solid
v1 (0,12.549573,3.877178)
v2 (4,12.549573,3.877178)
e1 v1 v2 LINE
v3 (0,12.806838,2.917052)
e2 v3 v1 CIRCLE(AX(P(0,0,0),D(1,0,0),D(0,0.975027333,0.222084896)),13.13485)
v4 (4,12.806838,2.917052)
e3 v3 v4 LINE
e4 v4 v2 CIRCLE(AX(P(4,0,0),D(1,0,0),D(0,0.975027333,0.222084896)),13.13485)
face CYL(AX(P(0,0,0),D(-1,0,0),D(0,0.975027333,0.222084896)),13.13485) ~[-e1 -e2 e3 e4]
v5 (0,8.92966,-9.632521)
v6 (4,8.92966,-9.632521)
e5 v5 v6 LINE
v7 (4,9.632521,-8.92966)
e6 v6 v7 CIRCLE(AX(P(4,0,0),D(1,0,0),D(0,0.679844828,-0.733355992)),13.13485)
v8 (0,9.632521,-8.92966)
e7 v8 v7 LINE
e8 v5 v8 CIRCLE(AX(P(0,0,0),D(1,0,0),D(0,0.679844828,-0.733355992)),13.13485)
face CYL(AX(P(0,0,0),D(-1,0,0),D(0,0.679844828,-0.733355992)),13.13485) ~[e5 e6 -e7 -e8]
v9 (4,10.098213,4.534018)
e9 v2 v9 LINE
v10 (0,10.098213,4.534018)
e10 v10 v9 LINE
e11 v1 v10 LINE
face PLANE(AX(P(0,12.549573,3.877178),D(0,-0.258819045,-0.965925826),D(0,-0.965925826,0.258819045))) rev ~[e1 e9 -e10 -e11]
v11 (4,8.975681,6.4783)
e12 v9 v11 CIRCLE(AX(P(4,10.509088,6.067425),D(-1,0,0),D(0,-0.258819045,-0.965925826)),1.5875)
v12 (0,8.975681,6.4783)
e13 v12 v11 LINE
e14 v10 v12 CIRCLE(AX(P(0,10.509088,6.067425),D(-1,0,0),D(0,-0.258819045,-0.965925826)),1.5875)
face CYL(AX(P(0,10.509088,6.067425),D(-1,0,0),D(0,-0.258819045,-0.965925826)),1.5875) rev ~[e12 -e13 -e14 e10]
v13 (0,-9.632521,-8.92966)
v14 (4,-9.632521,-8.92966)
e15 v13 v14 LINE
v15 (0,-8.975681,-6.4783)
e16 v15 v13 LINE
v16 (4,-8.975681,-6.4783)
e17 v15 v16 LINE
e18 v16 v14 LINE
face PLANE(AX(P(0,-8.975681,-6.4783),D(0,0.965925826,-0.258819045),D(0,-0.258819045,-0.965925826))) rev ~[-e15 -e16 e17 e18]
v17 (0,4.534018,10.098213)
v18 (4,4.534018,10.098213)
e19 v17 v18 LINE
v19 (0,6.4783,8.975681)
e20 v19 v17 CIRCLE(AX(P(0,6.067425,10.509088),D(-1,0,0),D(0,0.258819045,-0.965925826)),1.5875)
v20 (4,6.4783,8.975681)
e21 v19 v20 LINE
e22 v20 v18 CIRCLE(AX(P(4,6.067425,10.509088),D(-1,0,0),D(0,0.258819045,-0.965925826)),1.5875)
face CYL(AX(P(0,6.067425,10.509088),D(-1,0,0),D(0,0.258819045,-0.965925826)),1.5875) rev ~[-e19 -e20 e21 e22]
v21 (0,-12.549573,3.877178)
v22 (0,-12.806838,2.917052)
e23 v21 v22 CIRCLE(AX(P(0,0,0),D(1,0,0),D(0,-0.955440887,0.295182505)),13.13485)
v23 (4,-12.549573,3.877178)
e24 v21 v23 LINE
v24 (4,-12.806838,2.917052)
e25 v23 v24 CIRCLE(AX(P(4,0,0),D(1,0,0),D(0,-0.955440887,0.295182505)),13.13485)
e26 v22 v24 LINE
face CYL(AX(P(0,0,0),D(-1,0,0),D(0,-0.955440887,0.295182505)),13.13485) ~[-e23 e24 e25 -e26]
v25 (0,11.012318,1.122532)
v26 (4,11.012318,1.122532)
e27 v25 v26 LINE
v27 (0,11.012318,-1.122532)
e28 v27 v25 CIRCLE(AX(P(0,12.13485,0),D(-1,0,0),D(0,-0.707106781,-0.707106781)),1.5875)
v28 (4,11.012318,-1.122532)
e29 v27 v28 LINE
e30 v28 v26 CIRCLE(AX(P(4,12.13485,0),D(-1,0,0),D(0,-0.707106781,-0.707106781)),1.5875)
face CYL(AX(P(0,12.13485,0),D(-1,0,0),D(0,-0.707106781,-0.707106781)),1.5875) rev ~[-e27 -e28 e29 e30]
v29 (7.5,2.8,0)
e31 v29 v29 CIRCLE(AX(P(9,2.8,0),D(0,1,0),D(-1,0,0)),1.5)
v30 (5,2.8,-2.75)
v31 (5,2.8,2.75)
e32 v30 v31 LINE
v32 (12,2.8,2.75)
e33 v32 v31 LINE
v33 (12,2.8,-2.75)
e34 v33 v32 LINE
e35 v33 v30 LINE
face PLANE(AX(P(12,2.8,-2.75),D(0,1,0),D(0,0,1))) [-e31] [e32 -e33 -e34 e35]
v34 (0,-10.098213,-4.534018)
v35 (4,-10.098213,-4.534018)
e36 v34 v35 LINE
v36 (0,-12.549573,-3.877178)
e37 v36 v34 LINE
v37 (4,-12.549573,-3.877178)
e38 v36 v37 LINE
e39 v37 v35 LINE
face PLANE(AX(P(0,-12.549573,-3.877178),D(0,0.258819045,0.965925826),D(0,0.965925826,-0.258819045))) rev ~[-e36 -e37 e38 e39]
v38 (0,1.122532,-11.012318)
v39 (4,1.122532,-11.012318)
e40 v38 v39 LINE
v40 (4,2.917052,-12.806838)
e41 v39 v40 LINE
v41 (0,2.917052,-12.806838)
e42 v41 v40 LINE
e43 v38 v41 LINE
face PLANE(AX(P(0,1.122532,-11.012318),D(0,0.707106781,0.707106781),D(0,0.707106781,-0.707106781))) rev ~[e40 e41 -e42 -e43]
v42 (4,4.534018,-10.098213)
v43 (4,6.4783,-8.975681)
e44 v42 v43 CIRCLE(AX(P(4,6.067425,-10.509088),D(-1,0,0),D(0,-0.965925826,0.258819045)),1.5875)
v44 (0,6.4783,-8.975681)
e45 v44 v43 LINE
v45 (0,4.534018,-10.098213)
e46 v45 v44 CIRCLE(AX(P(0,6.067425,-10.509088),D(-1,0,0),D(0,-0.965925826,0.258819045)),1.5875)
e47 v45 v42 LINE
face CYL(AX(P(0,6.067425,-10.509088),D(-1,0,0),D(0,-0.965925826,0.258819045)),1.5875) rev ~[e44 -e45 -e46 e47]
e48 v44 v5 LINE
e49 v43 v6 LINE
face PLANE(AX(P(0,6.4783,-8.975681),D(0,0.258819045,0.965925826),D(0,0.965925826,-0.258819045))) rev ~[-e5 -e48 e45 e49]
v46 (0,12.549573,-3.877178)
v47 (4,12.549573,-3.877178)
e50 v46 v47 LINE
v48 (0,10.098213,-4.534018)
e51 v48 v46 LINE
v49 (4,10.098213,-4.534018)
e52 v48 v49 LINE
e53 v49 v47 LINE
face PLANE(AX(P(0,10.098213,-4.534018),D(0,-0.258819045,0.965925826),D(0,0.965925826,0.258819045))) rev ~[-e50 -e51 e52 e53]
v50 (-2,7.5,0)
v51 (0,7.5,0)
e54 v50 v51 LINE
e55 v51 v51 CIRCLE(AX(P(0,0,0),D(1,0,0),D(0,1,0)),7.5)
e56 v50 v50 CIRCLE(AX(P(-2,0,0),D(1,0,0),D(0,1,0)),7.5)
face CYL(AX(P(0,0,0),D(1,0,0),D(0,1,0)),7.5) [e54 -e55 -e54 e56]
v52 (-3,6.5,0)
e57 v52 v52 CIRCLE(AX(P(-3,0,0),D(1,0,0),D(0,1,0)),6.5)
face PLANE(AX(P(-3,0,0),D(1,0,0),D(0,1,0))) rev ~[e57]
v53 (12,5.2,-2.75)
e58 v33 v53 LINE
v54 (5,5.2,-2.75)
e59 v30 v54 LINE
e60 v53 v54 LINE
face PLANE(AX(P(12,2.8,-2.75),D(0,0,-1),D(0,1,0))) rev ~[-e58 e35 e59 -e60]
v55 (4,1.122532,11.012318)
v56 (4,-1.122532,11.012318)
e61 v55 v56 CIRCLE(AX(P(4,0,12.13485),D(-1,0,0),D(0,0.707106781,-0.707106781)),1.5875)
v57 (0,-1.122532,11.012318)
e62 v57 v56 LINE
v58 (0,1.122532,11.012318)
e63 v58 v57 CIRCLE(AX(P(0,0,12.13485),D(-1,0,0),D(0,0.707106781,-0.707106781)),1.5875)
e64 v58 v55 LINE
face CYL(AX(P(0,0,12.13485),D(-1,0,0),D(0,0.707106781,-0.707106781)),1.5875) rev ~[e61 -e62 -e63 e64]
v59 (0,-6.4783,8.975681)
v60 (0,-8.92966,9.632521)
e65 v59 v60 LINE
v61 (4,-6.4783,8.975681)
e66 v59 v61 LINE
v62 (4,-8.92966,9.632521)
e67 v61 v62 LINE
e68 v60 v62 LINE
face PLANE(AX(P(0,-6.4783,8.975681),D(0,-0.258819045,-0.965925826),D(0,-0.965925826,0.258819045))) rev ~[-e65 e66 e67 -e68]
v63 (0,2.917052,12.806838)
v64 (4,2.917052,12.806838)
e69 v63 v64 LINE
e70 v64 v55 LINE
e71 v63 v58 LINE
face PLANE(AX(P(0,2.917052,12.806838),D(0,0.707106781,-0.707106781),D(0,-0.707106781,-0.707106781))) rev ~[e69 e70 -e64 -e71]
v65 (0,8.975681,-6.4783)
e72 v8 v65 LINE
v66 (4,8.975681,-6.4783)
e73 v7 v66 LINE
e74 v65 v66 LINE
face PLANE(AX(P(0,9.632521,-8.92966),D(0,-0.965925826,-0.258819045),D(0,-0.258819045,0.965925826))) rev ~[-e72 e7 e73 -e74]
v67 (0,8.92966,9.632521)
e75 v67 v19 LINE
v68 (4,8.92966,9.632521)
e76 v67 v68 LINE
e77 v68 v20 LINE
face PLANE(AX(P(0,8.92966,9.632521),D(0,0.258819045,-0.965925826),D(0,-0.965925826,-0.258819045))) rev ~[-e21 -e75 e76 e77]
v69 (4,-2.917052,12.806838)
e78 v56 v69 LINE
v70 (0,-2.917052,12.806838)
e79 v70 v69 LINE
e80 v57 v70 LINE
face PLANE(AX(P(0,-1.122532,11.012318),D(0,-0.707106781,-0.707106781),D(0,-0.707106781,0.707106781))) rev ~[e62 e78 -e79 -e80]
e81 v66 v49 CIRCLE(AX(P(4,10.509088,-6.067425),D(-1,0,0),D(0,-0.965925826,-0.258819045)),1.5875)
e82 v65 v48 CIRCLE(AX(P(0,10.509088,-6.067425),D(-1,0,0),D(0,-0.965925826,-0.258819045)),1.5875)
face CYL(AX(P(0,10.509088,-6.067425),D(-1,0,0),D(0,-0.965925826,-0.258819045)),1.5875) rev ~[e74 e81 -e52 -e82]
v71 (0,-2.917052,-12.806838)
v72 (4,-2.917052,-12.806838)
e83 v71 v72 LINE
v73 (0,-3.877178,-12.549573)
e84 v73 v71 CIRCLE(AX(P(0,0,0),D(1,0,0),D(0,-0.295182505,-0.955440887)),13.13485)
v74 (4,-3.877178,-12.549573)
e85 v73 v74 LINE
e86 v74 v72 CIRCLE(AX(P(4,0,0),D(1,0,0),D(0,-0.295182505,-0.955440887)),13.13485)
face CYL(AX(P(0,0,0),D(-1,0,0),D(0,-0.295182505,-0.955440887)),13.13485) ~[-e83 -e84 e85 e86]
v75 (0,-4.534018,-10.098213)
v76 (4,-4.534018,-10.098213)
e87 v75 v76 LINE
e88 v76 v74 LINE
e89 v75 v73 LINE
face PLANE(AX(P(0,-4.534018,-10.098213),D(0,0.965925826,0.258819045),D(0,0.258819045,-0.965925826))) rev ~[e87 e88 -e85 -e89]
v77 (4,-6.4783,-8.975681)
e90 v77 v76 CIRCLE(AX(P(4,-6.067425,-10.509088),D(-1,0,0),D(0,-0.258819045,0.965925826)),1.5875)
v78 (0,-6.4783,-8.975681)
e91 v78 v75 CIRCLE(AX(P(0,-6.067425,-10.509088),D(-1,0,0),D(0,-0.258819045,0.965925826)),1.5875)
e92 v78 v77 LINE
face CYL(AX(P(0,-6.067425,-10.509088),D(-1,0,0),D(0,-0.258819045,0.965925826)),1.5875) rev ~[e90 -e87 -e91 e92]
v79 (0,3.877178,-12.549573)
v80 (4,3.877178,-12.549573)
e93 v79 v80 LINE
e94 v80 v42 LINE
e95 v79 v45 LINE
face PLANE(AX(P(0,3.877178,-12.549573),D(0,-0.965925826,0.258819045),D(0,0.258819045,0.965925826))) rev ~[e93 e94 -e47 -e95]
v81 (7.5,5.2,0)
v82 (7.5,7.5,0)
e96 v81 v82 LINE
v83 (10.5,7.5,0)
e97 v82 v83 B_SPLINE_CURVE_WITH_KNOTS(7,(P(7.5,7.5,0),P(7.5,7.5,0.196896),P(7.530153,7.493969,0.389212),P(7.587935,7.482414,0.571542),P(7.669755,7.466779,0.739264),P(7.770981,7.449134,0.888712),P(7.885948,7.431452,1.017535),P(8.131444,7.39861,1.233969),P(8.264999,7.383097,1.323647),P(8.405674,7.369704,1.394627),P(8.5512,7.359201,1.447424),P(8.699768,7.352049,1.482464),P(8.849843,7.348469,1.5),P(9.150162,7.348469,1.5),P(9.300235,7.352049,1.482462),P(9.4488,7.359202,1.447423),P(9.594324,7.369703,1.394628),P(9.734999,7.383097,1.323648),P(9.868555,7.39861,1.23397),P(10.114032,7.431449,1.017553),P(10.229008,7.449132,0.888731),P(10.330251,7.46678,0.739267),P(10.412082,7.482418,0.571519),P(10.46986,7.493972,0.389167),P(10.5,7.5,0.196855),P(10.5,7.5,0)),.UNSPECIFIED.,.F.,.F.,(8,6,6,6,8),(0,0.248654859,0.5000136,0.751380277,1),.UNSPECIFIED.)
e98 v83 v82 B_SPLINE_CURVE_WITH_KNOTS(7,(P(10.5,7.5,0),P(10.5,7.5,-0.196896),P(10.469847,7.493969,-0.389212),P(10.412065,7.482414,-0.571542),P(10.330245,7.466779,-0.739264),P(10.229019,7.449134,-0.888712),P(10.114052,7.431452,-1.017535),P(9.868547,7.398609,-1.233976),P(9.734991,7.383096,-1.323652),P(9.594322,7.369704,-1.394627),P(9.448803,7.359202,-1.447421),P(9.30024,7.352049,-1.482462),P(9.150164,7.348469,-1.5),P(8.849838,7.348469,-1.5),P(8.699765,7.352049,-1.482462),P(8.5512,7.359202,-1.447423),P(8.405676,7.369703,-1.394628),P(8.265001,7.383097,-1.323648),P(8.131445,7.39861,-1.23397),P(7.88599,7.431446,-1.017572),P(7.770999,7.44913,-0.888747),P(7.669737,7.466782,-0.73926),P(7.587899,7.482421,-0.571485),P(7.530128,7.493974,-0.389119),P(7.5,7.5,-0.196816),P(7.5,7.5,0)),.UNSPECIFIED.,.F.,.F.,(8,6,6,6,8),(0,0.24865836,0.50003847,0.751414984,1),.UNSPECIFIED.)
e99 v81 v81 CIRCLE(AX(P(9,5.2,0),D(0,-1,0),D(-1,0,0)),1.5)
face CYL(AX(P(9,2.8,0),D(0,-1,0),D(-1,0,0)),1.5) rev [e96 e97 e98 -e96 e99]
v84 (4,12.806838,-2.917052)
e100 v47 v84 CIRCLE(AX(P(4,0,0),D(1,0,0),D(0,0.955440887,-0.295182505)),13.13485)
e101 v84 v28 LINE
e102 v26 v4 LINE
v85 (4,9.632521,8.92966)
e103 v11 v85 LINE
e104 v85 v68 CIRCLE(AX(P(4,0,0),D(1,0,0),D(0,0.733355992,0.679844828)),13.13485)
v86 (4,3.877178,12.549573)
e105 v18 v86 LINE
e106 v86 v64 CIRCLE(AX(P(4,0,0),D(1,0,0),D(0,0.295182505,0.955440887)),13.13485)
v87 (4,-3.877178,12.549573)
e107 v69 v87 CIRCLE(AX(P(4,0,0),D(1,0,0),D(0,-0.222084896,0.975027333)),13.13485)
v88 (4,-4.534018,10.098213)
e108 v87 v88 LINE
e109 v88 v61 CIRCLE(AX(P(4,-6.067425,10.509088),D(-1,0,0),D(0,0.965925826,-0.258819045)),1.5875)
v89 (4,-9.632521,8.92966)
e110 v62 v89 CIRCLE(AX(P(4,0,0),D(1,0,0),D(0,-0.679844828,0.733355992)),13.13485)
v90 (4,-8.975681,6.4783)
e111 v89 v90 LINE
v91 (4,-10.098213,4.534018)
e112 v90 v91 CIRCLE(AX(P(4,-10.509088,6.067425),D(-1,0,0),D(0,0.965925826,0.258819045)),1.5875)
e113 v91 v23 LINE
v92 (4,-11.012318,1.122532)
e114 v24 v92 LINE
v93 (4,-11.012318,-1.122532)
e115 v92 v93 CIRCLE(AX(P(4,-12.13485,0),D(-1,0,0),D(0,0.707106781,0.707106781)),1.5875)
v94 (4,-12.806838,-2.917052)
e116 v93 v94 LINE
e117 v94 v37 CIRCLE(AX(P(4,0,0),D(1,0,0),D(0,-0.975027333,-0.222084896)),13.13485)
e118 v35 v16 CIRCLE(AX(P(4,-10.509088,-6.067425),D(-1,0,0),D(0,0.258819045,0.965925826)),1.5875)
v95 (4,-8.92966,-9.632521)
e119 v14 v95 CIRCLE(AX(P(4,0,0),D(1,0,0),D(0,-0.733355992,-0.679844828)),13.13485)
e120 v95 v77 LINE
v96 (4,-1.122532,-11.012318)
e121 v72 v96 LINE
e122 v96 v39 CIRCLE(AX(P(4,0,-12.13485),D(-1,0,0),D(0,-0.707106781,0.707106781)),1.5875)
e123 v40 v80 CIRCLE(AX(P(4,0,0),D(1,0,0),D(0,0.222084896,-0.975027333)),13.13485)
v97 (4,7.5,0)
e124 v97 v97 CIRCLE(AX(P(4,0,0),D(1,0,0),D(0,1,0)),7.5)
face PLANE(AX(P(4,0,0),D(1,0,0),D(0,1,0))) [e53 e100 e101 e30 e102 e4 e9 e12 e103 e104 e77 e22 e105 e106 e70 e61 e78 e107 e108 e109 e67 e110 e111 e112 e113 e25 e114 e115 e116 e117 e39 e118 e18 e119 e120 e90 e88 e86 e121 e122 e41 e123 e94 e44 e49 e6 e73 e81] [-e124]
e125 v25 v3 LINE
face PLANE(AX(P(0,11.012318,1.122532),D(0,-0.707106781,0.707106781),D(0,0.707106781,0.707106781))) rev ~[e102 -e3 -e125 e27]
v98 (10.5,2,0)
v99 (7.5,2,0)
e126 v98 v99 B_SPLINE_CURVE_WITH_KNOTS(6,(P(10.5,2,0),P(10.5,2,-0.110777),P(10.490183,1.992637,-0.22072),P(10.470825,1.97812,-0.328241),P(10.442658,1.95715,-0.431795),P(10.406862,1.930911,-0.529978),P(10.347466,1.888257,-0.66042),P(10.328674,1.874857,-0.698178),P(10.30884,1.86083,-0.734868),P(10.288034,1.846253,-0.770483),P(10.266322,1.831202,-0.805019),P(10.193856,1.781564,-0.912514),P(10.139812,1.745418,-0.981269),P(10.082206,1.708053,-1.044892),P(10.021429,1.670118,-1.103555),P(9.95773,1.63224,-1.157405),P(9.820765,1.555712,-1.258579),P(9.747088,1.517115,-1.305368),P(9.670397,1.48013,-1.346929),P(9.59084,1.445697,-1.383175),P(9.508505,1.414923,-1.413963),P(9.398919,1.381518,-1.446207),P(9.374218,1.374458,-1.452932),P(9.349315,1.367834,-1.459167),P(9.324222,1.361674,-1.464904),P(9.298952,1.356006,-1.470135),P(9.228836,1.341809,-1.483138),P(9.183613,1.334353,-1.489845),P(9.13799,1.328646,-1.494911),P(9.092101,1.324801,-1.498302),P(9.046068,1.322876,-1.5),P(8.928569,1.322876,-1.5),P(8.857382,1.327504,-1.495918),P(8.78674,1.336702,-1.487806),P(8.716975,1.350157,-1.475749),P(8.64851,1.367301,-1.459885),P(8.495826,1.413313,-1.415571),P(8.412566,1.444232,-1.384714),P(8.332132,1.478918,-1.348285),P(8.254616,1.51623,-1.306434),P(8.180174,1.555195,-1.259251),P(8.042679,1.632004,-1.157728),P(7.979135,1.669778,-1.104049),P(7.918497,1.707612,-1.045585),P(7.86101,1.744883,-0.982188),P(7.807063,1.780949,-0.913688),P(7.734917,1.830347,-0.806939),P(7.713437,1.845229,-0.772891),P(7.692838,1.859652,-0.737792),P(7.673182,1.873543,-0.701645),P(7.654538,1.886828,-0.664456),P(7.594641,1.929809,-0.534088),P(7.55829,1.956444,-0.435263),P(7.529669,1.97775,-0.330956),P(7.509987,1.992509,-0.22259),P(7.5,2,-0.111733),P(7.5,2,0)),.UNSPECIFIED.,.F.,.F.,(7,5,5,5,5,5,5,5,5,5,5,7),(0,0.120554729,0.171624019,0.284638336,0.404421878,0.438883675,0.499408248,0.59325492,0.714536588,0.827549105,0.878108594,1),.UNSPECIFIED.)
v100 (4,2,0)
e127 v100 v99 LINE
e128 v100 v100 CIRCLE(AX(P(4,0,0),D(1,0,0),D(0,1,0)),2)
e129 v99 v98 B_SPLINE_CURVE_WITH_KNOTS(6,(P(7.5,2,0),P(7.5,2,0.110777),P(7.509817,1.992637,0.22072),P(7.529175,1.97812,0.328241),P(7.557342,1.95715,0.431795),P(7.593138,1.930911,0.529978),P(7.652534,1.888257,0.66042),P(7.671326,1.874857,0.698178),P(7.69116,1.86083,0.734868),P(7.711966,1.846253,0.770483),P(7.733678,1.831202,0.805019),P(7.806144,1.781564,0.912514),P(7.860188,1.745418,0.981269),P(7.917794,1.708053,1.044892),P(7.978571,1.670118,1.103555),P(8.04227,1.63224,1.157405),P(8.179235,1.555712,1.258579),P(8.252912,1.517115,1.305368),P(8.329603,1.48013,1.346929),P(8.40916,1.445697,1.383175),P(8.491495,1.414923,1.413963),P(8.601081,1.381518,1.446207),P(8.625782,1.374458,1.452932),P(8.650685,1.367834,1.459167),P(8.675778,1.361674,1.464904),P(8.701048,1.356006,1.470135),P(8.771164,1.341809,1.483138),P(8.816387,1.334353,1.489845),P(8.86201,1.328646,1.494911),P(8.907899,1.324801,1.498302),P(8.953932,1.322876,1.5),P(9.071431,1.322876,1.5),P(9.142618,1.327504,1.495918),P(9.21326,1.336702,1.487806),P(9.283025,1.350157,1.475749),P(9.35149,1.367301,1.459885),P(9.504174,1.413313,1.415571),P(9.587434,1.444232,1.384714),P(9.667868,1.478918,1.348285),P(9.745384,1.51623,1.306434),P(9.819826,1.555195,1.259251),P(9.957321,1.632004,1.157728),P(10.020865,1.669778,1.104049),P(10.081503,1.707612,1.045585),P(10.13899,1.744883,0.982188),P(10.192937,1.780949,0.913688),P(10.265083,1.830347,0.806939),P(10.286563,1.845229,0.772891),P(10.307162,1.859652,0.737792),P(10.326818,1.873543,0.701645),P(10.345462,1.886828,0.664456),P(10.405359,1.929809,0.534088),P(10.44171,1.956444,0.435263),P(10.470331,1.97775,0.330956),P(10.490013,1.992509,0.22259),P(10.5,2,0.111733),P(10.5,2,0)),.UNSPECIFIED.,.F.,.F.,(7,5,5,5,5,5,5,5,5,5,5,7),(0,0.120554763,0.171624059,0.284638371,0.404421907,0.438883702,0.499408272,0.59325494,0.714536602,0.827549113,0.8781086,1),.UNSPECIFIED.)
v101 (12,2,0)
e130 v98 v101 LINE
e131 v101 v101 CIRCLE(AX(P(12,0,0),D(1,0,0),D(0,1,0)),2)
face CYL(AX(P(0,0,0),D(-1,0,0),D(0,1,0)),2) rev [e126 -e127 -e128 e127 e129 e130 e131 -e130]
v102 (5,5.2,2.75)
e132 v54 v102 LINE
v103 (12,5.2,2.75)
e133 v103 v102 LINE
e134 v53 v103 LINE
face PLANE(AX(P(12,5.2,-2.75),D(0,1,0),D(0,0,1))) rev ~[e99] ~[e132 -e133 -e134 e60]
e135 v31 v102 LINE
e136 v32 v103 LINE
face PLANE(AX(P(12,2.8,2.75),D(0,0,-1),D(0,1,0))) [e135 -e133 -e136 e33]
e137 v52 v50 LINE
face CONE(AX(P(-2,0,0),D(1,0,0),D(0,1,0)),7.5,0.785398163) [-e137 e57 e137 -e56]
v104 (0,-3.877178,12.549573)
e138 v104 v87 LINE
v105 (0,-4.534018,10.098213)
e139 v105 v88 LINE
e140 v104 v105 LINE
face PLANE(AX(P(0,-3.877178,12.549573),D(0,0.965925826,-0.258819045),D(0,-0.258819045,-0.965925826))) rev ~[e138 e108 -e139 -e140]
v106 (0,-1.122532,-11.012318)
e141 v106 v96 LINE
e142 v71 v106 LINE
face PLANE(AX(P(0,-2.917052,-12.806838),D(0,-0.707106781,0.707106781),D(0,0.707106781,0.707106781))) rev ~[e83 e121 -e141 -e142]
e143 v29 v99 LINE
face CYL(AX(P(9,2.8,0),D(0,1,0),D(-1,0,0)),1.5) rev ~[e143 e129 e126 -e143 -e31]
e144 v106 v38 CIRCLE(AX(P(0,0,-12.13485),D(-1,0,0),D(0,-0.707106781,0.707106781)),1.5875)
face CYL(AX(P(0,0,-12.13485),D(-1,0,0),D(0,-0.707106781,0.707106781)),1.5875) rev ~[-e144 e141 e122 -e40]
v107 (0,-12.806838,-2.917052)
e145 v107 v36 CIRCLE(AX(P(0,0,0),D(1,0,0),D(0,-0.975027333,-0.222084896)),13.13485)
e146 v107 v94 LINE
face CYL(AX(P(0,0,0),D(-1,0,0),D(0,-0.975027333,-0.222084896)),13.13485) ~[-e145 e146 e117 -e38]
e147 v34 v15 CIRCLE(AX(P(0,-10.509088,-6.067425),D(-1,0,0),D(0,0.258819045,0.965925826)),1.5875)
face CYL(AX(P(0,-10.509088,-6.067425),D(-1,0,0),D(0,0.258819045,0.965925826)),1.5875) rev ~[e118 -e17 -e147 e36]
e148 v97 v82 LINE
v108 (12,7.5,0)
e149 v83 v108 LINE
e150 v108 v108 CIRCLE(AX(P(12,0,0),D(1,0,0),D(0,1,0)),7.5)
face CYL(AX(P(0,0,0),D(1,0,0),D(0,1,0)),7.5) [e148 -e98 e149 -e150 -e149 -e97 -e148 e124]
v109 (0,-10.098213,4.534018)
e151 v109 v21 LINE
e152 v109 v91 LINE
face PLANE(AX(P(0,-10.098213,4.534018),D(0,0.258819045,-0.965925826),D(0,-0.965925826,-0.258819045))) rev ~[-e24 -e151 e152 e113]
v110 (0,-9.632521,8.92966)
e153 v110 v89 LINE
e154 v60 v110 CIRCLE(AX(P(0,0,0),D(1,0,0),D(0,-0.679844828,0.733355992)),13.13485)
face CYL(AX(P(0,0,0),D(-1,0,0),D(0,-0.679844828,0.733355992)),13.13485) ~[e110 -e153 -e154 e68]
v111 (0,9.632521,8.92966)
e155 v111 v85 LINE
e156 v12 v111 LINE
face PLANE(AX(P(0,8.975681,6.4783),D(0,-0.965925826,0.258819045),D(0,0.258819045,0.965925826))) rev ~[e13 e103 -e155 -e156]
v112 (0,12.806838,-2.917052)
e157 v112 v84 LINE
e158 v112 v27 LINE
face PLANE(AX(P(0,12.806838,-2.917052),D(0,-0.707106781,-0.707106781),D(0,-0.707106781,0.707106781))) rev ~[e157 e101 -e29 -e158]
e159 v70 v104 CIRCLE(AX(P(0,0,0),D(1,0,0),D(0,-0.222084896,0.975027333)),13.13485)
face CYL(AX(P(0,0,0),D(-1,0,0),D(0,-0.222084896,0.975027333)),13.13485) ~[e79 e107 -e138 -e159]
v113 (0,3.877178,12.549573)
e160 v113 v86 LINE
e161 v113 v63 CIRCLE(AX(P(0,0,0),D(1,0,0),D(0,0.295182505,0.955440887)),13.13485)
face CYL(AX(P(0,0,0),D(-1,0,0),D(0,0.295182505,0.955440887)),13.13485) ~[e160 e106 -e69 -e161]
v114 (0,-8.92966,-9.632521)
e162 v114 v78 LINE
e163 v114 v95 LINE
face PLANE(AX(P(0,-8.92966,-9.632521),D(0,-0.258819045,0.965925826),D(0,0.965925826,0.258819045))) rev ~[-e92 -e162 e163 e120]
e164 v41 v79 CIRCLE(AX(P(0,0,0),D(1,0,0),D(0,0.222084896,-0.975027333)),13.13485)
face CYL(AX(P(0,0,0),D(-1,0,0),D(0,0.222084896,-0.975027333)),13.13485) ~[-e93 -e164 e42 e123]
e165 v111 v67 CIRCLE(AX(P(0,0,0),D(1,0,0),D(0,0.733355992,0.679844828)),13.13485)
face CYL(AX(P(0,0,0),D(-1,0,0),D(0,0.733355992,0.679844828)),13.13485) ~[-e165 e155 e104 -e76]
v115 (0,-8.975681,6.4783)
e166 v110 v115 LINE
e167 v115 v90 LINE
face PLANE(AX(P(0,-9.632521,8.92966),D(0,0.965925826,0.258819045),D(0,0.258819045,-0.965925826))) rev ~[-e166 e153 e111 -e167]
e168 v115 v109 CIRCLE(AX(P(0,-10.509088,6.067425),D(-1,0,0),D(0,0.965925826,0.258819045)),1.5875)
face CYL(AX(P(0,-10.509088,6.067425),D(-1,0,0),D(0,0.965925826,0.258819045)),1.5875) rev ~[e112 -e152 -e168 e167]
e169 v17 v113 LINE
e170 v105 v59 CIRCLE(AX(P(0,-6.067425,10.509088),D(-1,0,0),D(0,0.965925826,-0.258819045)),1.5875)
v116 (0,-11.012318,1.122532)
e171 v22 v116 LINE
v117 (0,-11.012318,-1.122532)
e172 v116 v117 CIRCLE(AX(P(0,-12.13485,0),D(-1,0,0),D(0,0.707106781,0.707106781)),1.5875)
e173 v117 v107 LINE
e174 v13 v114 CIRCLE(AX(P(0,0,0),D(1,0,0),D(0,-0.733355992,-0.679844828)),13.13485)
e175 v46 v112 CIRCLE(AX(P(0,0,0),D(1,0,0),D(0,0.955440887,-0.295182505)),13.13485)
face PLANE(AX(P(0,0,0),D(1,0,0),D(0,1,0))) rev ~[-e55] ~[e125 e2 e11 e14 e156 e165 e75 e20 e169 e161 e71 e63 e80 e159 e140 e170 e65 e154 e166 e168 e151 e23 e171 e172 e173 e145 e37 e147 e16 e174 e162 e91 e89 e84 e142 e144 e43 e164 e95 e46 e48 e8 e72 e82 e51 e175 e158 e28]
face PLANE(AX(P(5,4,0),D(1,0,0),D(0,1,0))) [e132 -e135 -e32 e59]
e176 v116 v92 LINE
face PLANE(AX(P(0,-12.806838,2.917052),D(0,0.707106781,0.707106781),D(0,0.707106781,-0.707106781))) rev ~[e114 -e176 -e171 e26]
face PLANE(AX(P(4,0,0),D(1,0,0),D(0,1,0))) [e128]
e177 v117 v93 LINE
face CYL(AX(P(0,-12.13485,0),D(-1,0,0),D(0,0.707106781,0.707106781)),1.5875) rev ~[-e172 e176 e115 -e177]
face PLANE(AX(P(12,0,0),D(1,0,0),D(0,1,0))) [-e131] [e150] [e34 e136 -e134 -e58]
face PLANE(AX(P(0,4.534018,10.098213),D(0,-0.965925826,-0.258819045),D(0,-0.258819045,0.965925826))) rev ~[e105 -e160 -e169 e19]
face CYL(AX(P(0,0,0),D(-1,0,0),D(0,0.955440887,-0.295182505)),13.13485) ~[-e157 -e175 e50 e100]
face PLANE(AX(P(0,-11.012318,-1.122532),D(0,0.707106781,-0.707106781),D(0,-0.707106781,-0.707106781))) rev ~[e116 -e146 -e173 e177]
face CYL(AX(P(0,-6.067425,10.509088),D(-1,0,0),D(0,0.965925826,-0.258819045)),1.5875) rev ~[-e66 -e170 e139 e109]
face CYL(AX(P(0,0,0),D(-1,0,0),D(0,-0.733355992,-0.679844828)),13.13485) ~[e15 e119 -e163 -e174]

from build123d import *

# Parameters (mm, degrees)
F0_R          = 7.5
F0_R_2        = 2
F1_DEPTH      = 12
F1_DEPTH_BACK = 3
F2_DEPTH      = 4
F3_DEPTH      = 3
F4_SIZE       = 1
F5_W          = 2.4
F5_H          = 5.5
F6_DEPTH      = 7
F7_R          = 1.5
F8_DEPTH      = 10.0078377589
F8_DEPTH_BACK = 1.4781244445


with BuildPart() as f1:
    # F0 (on Right) → F1 (new body, two sides)
    with BuildSketch(Plane.YZ) as f1_sk:
        Circle(F0_R)
        Circle(F0_R_2, mode=Mode.SUBTRACT)
    extrude(amount=F1_DEPTH)
    extrude(f1_sk.sketch, amount=-F1_DEPTH_BACK)

    # F0 (on Right) → F2 (join)
    with BuildSketch(Plane.YZ):
        with BuildLine():
            Line((-1.1225320151, 11.0123179849), (-2.9170517891, 12.8068377589))
            ThreePointArc((-2.9170517891, 12.8068377589), (-3.3995493346, 12.6872908394), (-3.8771779259, 12.5495727359))
            Line((-3.8771779259, 12.5495727359), (-4.5340177508, 10.098213137))
            ThreePointArc((-4.5340177508, 10.098213137), (-5.273675, 9.1342730426), (-6.4783002341, 8.9756811219))
            Line((-6.4783002341, 8.9756811219), (-8.929659833, 9.6325209468))
            ThreePointArc((-8.929659833, 9.6325209468), (-9.2877415049, 9.2877415049), (-9.6325209468, 8.929659833))
            Line((-9.6325209468, 8.929659833), (-8.9756811219, 6.4783002341))
            ThreePointArc((-8.9756811219, 6.4783002341), (-9.1342730426, 5.273675), (-10.098213137, 4.5340177508))
            Line((-10.098213137, 4.5340177508), (-12.5495727359, 3.8771779259))
            ThreePointArc((-12.5495727359, 3.8771779259), (-12.6872908394, 3.3995493346), (-12.8068377589, 2.9170517891))
            Line((-12.8068377589, 2.9170517891), (-11.0123179849, 1.1225320151))
            ThreePointArc((-11.0123179849, 1.1225320151), (-10.54735, 0), (-11.0123179849, -1.1225320151))
            Line((-11.0123179849, -1.1225320151), (-12.8068377589, -2.9170517891))
            ThreePointArc((-12.8068377589, -2.9170517891), (-12.6872908394, -3.3995493346), (-12.5495727359, -3.8771779259))
            Line((-12.5495727359, -3.8771779259), (-10.098213137, -4.5340177508))
            ThreePointArc((-10.098213137, -4.5340177508), (-9.1342730426, -5.273675), (-8.9756811219, -6.4783002341))
            Line((-8.9756811219, -6.4783002341), (-9.6325209468, -8.929659833))
            ThreePointArc((-9.6325209468, -8.929659833), (-9.2877415049, -9.2877415049), (-8.929659833, -9.6325209468))
            Line((-8.929659833, -9.6325209468), (-6.4783002341, -8.9756811219))
            ThreePointArc((-6.4783002341, -8.9756811219), (-5.273675, -9.1342730426), (-4.5340177508, -10.098213137))
            Line((-4.5340177508, -10.098213137), (-3.8771779259, -12.5495727359))
            ThreePointArc((-3.8771779259, -12.5495727359), (-3.3995493346, -12.6872908394), (-2.9170517891, -12.8068377589))
            Line((-2.9170517891, -12.8068377589), (-1.1225320151, -11.0123179849))
            ThreePointArc((-1.1225320151, -11.0123179849), (0, -10.54735), (1.1225320151, -11.0123179849))
            Line((1.1225320151, -11.0123179849), (2.9170517891, -12.8068377589))
            ThreePointArc((2.9170517891, -12.8068377589), (3.3995493346, -12.6872908394), (3.8771779259, -12.5495727359))
            Line((3.8771779259, -12.5495727359), (4.5340177508, -10.098213137))
            ThreePointArc((4.5340177508, -10.098213137), (5.273675, -9.1342730426), (6.4783002341, -8.9756811219))
            Line((6.4783002341, -8.9756811219), (8.929659833, -9.6325209468))
            ThreePointArc((8.929659833, -9.6325209468), (9.2877415049, -9.2877415049), (9.6325209468, -8.929659833))
            Line((9.6325209468, -8.929659833), (8.9756811219, -6.4783002341))
            ThreePointArc((8.9756811219, -6.4783002341), (9.1342730426, -5.273675), (10.098213137, -4.5340177508))
            Line((10.098213137, -4.5340177508), (12.5495727359, -3.8771779259))
            ThreePointArc((12.5495727359, -3.8771779259), (12.6872908394, -3.3995493346), (12.8068377589, -2.9170517891))
            Line((12.8068377589, -2.9170517891), (11.0123179849, -1.1225320151))
            ThreePointArc((11.0123179849, -1.1225320151), (10.54735, 0), (11.0123179849, 1.1225320151))
            Line((11.0123179849, 1.1225320151), (12.8068377589, 2.9170517891))
            ThreePointArc((12.8068377589, 2.9170517891), (12.6872908394, 3.3995493346), (12.5495727359, 3.8771779259))
            Line((12.5495727359, 3.8771779259), (10.098213137, 4.5340177508))
            ThreePointArc((10.098213137, 4.5340177508), (9.1342730426, 5.273675), (8.9756811219, 6.4783002341))
            Line((8.9756811219, 6.4783002341), (9.6325209468, 8.929659833))
            ThreePointArc((9.6325209468, 8.929659833), (9.2877415049, 9.2877415049), (8.929659833, 9.6325209468))
            Line((8.929659833, 9.6325209468), (6.4783002341, 8.9756811219))
            ThreePointArc((6.4783002341, 8.9756811219), (5.273675, 9.1342730426), (4.5340177508, 10.098213137))
            Line((4.5340177508, 10.098213137), (3.8771779259, 12.5495727359))
            ThreePointArc((3.8771779259, 12.5495727359), (3.3995493346, 12.6872908394), (2.9170517891, 12.8068377589))
            Line((2.9170517891, 12.8068377589), (1.1225320151, 11.0123179849))
            ThreePointArc((1.1225320151, 11.0123179849), (0, 10.54735), (-1.1225320151, 11.0123179849))
        make_face()
        Circle(F0_R, mode=Mode.SUBTRACT)
        Circle(F0_R_2)
    extrude(amount=F2_DEPTH)

    # F3 (add): a face of the model
    f3_faces = [f1.faces().sort_by_distance(p)[0] for p in [
        (0, 0, 0),
    ]]
    extrude(f3_faces, amount=F3_DEPTH)

    # F4
    f4_edges = [f1.edges().sort_by_distance(p)[0] for p in [
        (-3, -7.5, 0),
    ]]
    chamfer(f4_edges, length=F4_SIZE)

    # F5 (on face) → F6 (cut)
    with BuildSketch(Plane.YZ.offset(12)):
        with Locations((4, 0)):
            Rectangle(F5_W, F5_H)
    extrude(amount=-F6_DEPTH, mode=Mode.SUBTRACT)

    # F7 (on face) → F8 (cut, two sides)
    with BuildSketch(Plane(origin=(0, 2.8, 0), x_dir=(-1, 0, 0), z_dir=(0, 1, 0))) as f8_sk:
        with Locations((-9, 0)):
            Circle(F7_R)
    extrude(amount=F8_DEPTH, mode=Mode.SUBTRACT)
    extrude(f8_sk.sketch, amount=-F8_DEPTH_BACK, mode=Mode.SUBTRACT)


solid = f1.part
